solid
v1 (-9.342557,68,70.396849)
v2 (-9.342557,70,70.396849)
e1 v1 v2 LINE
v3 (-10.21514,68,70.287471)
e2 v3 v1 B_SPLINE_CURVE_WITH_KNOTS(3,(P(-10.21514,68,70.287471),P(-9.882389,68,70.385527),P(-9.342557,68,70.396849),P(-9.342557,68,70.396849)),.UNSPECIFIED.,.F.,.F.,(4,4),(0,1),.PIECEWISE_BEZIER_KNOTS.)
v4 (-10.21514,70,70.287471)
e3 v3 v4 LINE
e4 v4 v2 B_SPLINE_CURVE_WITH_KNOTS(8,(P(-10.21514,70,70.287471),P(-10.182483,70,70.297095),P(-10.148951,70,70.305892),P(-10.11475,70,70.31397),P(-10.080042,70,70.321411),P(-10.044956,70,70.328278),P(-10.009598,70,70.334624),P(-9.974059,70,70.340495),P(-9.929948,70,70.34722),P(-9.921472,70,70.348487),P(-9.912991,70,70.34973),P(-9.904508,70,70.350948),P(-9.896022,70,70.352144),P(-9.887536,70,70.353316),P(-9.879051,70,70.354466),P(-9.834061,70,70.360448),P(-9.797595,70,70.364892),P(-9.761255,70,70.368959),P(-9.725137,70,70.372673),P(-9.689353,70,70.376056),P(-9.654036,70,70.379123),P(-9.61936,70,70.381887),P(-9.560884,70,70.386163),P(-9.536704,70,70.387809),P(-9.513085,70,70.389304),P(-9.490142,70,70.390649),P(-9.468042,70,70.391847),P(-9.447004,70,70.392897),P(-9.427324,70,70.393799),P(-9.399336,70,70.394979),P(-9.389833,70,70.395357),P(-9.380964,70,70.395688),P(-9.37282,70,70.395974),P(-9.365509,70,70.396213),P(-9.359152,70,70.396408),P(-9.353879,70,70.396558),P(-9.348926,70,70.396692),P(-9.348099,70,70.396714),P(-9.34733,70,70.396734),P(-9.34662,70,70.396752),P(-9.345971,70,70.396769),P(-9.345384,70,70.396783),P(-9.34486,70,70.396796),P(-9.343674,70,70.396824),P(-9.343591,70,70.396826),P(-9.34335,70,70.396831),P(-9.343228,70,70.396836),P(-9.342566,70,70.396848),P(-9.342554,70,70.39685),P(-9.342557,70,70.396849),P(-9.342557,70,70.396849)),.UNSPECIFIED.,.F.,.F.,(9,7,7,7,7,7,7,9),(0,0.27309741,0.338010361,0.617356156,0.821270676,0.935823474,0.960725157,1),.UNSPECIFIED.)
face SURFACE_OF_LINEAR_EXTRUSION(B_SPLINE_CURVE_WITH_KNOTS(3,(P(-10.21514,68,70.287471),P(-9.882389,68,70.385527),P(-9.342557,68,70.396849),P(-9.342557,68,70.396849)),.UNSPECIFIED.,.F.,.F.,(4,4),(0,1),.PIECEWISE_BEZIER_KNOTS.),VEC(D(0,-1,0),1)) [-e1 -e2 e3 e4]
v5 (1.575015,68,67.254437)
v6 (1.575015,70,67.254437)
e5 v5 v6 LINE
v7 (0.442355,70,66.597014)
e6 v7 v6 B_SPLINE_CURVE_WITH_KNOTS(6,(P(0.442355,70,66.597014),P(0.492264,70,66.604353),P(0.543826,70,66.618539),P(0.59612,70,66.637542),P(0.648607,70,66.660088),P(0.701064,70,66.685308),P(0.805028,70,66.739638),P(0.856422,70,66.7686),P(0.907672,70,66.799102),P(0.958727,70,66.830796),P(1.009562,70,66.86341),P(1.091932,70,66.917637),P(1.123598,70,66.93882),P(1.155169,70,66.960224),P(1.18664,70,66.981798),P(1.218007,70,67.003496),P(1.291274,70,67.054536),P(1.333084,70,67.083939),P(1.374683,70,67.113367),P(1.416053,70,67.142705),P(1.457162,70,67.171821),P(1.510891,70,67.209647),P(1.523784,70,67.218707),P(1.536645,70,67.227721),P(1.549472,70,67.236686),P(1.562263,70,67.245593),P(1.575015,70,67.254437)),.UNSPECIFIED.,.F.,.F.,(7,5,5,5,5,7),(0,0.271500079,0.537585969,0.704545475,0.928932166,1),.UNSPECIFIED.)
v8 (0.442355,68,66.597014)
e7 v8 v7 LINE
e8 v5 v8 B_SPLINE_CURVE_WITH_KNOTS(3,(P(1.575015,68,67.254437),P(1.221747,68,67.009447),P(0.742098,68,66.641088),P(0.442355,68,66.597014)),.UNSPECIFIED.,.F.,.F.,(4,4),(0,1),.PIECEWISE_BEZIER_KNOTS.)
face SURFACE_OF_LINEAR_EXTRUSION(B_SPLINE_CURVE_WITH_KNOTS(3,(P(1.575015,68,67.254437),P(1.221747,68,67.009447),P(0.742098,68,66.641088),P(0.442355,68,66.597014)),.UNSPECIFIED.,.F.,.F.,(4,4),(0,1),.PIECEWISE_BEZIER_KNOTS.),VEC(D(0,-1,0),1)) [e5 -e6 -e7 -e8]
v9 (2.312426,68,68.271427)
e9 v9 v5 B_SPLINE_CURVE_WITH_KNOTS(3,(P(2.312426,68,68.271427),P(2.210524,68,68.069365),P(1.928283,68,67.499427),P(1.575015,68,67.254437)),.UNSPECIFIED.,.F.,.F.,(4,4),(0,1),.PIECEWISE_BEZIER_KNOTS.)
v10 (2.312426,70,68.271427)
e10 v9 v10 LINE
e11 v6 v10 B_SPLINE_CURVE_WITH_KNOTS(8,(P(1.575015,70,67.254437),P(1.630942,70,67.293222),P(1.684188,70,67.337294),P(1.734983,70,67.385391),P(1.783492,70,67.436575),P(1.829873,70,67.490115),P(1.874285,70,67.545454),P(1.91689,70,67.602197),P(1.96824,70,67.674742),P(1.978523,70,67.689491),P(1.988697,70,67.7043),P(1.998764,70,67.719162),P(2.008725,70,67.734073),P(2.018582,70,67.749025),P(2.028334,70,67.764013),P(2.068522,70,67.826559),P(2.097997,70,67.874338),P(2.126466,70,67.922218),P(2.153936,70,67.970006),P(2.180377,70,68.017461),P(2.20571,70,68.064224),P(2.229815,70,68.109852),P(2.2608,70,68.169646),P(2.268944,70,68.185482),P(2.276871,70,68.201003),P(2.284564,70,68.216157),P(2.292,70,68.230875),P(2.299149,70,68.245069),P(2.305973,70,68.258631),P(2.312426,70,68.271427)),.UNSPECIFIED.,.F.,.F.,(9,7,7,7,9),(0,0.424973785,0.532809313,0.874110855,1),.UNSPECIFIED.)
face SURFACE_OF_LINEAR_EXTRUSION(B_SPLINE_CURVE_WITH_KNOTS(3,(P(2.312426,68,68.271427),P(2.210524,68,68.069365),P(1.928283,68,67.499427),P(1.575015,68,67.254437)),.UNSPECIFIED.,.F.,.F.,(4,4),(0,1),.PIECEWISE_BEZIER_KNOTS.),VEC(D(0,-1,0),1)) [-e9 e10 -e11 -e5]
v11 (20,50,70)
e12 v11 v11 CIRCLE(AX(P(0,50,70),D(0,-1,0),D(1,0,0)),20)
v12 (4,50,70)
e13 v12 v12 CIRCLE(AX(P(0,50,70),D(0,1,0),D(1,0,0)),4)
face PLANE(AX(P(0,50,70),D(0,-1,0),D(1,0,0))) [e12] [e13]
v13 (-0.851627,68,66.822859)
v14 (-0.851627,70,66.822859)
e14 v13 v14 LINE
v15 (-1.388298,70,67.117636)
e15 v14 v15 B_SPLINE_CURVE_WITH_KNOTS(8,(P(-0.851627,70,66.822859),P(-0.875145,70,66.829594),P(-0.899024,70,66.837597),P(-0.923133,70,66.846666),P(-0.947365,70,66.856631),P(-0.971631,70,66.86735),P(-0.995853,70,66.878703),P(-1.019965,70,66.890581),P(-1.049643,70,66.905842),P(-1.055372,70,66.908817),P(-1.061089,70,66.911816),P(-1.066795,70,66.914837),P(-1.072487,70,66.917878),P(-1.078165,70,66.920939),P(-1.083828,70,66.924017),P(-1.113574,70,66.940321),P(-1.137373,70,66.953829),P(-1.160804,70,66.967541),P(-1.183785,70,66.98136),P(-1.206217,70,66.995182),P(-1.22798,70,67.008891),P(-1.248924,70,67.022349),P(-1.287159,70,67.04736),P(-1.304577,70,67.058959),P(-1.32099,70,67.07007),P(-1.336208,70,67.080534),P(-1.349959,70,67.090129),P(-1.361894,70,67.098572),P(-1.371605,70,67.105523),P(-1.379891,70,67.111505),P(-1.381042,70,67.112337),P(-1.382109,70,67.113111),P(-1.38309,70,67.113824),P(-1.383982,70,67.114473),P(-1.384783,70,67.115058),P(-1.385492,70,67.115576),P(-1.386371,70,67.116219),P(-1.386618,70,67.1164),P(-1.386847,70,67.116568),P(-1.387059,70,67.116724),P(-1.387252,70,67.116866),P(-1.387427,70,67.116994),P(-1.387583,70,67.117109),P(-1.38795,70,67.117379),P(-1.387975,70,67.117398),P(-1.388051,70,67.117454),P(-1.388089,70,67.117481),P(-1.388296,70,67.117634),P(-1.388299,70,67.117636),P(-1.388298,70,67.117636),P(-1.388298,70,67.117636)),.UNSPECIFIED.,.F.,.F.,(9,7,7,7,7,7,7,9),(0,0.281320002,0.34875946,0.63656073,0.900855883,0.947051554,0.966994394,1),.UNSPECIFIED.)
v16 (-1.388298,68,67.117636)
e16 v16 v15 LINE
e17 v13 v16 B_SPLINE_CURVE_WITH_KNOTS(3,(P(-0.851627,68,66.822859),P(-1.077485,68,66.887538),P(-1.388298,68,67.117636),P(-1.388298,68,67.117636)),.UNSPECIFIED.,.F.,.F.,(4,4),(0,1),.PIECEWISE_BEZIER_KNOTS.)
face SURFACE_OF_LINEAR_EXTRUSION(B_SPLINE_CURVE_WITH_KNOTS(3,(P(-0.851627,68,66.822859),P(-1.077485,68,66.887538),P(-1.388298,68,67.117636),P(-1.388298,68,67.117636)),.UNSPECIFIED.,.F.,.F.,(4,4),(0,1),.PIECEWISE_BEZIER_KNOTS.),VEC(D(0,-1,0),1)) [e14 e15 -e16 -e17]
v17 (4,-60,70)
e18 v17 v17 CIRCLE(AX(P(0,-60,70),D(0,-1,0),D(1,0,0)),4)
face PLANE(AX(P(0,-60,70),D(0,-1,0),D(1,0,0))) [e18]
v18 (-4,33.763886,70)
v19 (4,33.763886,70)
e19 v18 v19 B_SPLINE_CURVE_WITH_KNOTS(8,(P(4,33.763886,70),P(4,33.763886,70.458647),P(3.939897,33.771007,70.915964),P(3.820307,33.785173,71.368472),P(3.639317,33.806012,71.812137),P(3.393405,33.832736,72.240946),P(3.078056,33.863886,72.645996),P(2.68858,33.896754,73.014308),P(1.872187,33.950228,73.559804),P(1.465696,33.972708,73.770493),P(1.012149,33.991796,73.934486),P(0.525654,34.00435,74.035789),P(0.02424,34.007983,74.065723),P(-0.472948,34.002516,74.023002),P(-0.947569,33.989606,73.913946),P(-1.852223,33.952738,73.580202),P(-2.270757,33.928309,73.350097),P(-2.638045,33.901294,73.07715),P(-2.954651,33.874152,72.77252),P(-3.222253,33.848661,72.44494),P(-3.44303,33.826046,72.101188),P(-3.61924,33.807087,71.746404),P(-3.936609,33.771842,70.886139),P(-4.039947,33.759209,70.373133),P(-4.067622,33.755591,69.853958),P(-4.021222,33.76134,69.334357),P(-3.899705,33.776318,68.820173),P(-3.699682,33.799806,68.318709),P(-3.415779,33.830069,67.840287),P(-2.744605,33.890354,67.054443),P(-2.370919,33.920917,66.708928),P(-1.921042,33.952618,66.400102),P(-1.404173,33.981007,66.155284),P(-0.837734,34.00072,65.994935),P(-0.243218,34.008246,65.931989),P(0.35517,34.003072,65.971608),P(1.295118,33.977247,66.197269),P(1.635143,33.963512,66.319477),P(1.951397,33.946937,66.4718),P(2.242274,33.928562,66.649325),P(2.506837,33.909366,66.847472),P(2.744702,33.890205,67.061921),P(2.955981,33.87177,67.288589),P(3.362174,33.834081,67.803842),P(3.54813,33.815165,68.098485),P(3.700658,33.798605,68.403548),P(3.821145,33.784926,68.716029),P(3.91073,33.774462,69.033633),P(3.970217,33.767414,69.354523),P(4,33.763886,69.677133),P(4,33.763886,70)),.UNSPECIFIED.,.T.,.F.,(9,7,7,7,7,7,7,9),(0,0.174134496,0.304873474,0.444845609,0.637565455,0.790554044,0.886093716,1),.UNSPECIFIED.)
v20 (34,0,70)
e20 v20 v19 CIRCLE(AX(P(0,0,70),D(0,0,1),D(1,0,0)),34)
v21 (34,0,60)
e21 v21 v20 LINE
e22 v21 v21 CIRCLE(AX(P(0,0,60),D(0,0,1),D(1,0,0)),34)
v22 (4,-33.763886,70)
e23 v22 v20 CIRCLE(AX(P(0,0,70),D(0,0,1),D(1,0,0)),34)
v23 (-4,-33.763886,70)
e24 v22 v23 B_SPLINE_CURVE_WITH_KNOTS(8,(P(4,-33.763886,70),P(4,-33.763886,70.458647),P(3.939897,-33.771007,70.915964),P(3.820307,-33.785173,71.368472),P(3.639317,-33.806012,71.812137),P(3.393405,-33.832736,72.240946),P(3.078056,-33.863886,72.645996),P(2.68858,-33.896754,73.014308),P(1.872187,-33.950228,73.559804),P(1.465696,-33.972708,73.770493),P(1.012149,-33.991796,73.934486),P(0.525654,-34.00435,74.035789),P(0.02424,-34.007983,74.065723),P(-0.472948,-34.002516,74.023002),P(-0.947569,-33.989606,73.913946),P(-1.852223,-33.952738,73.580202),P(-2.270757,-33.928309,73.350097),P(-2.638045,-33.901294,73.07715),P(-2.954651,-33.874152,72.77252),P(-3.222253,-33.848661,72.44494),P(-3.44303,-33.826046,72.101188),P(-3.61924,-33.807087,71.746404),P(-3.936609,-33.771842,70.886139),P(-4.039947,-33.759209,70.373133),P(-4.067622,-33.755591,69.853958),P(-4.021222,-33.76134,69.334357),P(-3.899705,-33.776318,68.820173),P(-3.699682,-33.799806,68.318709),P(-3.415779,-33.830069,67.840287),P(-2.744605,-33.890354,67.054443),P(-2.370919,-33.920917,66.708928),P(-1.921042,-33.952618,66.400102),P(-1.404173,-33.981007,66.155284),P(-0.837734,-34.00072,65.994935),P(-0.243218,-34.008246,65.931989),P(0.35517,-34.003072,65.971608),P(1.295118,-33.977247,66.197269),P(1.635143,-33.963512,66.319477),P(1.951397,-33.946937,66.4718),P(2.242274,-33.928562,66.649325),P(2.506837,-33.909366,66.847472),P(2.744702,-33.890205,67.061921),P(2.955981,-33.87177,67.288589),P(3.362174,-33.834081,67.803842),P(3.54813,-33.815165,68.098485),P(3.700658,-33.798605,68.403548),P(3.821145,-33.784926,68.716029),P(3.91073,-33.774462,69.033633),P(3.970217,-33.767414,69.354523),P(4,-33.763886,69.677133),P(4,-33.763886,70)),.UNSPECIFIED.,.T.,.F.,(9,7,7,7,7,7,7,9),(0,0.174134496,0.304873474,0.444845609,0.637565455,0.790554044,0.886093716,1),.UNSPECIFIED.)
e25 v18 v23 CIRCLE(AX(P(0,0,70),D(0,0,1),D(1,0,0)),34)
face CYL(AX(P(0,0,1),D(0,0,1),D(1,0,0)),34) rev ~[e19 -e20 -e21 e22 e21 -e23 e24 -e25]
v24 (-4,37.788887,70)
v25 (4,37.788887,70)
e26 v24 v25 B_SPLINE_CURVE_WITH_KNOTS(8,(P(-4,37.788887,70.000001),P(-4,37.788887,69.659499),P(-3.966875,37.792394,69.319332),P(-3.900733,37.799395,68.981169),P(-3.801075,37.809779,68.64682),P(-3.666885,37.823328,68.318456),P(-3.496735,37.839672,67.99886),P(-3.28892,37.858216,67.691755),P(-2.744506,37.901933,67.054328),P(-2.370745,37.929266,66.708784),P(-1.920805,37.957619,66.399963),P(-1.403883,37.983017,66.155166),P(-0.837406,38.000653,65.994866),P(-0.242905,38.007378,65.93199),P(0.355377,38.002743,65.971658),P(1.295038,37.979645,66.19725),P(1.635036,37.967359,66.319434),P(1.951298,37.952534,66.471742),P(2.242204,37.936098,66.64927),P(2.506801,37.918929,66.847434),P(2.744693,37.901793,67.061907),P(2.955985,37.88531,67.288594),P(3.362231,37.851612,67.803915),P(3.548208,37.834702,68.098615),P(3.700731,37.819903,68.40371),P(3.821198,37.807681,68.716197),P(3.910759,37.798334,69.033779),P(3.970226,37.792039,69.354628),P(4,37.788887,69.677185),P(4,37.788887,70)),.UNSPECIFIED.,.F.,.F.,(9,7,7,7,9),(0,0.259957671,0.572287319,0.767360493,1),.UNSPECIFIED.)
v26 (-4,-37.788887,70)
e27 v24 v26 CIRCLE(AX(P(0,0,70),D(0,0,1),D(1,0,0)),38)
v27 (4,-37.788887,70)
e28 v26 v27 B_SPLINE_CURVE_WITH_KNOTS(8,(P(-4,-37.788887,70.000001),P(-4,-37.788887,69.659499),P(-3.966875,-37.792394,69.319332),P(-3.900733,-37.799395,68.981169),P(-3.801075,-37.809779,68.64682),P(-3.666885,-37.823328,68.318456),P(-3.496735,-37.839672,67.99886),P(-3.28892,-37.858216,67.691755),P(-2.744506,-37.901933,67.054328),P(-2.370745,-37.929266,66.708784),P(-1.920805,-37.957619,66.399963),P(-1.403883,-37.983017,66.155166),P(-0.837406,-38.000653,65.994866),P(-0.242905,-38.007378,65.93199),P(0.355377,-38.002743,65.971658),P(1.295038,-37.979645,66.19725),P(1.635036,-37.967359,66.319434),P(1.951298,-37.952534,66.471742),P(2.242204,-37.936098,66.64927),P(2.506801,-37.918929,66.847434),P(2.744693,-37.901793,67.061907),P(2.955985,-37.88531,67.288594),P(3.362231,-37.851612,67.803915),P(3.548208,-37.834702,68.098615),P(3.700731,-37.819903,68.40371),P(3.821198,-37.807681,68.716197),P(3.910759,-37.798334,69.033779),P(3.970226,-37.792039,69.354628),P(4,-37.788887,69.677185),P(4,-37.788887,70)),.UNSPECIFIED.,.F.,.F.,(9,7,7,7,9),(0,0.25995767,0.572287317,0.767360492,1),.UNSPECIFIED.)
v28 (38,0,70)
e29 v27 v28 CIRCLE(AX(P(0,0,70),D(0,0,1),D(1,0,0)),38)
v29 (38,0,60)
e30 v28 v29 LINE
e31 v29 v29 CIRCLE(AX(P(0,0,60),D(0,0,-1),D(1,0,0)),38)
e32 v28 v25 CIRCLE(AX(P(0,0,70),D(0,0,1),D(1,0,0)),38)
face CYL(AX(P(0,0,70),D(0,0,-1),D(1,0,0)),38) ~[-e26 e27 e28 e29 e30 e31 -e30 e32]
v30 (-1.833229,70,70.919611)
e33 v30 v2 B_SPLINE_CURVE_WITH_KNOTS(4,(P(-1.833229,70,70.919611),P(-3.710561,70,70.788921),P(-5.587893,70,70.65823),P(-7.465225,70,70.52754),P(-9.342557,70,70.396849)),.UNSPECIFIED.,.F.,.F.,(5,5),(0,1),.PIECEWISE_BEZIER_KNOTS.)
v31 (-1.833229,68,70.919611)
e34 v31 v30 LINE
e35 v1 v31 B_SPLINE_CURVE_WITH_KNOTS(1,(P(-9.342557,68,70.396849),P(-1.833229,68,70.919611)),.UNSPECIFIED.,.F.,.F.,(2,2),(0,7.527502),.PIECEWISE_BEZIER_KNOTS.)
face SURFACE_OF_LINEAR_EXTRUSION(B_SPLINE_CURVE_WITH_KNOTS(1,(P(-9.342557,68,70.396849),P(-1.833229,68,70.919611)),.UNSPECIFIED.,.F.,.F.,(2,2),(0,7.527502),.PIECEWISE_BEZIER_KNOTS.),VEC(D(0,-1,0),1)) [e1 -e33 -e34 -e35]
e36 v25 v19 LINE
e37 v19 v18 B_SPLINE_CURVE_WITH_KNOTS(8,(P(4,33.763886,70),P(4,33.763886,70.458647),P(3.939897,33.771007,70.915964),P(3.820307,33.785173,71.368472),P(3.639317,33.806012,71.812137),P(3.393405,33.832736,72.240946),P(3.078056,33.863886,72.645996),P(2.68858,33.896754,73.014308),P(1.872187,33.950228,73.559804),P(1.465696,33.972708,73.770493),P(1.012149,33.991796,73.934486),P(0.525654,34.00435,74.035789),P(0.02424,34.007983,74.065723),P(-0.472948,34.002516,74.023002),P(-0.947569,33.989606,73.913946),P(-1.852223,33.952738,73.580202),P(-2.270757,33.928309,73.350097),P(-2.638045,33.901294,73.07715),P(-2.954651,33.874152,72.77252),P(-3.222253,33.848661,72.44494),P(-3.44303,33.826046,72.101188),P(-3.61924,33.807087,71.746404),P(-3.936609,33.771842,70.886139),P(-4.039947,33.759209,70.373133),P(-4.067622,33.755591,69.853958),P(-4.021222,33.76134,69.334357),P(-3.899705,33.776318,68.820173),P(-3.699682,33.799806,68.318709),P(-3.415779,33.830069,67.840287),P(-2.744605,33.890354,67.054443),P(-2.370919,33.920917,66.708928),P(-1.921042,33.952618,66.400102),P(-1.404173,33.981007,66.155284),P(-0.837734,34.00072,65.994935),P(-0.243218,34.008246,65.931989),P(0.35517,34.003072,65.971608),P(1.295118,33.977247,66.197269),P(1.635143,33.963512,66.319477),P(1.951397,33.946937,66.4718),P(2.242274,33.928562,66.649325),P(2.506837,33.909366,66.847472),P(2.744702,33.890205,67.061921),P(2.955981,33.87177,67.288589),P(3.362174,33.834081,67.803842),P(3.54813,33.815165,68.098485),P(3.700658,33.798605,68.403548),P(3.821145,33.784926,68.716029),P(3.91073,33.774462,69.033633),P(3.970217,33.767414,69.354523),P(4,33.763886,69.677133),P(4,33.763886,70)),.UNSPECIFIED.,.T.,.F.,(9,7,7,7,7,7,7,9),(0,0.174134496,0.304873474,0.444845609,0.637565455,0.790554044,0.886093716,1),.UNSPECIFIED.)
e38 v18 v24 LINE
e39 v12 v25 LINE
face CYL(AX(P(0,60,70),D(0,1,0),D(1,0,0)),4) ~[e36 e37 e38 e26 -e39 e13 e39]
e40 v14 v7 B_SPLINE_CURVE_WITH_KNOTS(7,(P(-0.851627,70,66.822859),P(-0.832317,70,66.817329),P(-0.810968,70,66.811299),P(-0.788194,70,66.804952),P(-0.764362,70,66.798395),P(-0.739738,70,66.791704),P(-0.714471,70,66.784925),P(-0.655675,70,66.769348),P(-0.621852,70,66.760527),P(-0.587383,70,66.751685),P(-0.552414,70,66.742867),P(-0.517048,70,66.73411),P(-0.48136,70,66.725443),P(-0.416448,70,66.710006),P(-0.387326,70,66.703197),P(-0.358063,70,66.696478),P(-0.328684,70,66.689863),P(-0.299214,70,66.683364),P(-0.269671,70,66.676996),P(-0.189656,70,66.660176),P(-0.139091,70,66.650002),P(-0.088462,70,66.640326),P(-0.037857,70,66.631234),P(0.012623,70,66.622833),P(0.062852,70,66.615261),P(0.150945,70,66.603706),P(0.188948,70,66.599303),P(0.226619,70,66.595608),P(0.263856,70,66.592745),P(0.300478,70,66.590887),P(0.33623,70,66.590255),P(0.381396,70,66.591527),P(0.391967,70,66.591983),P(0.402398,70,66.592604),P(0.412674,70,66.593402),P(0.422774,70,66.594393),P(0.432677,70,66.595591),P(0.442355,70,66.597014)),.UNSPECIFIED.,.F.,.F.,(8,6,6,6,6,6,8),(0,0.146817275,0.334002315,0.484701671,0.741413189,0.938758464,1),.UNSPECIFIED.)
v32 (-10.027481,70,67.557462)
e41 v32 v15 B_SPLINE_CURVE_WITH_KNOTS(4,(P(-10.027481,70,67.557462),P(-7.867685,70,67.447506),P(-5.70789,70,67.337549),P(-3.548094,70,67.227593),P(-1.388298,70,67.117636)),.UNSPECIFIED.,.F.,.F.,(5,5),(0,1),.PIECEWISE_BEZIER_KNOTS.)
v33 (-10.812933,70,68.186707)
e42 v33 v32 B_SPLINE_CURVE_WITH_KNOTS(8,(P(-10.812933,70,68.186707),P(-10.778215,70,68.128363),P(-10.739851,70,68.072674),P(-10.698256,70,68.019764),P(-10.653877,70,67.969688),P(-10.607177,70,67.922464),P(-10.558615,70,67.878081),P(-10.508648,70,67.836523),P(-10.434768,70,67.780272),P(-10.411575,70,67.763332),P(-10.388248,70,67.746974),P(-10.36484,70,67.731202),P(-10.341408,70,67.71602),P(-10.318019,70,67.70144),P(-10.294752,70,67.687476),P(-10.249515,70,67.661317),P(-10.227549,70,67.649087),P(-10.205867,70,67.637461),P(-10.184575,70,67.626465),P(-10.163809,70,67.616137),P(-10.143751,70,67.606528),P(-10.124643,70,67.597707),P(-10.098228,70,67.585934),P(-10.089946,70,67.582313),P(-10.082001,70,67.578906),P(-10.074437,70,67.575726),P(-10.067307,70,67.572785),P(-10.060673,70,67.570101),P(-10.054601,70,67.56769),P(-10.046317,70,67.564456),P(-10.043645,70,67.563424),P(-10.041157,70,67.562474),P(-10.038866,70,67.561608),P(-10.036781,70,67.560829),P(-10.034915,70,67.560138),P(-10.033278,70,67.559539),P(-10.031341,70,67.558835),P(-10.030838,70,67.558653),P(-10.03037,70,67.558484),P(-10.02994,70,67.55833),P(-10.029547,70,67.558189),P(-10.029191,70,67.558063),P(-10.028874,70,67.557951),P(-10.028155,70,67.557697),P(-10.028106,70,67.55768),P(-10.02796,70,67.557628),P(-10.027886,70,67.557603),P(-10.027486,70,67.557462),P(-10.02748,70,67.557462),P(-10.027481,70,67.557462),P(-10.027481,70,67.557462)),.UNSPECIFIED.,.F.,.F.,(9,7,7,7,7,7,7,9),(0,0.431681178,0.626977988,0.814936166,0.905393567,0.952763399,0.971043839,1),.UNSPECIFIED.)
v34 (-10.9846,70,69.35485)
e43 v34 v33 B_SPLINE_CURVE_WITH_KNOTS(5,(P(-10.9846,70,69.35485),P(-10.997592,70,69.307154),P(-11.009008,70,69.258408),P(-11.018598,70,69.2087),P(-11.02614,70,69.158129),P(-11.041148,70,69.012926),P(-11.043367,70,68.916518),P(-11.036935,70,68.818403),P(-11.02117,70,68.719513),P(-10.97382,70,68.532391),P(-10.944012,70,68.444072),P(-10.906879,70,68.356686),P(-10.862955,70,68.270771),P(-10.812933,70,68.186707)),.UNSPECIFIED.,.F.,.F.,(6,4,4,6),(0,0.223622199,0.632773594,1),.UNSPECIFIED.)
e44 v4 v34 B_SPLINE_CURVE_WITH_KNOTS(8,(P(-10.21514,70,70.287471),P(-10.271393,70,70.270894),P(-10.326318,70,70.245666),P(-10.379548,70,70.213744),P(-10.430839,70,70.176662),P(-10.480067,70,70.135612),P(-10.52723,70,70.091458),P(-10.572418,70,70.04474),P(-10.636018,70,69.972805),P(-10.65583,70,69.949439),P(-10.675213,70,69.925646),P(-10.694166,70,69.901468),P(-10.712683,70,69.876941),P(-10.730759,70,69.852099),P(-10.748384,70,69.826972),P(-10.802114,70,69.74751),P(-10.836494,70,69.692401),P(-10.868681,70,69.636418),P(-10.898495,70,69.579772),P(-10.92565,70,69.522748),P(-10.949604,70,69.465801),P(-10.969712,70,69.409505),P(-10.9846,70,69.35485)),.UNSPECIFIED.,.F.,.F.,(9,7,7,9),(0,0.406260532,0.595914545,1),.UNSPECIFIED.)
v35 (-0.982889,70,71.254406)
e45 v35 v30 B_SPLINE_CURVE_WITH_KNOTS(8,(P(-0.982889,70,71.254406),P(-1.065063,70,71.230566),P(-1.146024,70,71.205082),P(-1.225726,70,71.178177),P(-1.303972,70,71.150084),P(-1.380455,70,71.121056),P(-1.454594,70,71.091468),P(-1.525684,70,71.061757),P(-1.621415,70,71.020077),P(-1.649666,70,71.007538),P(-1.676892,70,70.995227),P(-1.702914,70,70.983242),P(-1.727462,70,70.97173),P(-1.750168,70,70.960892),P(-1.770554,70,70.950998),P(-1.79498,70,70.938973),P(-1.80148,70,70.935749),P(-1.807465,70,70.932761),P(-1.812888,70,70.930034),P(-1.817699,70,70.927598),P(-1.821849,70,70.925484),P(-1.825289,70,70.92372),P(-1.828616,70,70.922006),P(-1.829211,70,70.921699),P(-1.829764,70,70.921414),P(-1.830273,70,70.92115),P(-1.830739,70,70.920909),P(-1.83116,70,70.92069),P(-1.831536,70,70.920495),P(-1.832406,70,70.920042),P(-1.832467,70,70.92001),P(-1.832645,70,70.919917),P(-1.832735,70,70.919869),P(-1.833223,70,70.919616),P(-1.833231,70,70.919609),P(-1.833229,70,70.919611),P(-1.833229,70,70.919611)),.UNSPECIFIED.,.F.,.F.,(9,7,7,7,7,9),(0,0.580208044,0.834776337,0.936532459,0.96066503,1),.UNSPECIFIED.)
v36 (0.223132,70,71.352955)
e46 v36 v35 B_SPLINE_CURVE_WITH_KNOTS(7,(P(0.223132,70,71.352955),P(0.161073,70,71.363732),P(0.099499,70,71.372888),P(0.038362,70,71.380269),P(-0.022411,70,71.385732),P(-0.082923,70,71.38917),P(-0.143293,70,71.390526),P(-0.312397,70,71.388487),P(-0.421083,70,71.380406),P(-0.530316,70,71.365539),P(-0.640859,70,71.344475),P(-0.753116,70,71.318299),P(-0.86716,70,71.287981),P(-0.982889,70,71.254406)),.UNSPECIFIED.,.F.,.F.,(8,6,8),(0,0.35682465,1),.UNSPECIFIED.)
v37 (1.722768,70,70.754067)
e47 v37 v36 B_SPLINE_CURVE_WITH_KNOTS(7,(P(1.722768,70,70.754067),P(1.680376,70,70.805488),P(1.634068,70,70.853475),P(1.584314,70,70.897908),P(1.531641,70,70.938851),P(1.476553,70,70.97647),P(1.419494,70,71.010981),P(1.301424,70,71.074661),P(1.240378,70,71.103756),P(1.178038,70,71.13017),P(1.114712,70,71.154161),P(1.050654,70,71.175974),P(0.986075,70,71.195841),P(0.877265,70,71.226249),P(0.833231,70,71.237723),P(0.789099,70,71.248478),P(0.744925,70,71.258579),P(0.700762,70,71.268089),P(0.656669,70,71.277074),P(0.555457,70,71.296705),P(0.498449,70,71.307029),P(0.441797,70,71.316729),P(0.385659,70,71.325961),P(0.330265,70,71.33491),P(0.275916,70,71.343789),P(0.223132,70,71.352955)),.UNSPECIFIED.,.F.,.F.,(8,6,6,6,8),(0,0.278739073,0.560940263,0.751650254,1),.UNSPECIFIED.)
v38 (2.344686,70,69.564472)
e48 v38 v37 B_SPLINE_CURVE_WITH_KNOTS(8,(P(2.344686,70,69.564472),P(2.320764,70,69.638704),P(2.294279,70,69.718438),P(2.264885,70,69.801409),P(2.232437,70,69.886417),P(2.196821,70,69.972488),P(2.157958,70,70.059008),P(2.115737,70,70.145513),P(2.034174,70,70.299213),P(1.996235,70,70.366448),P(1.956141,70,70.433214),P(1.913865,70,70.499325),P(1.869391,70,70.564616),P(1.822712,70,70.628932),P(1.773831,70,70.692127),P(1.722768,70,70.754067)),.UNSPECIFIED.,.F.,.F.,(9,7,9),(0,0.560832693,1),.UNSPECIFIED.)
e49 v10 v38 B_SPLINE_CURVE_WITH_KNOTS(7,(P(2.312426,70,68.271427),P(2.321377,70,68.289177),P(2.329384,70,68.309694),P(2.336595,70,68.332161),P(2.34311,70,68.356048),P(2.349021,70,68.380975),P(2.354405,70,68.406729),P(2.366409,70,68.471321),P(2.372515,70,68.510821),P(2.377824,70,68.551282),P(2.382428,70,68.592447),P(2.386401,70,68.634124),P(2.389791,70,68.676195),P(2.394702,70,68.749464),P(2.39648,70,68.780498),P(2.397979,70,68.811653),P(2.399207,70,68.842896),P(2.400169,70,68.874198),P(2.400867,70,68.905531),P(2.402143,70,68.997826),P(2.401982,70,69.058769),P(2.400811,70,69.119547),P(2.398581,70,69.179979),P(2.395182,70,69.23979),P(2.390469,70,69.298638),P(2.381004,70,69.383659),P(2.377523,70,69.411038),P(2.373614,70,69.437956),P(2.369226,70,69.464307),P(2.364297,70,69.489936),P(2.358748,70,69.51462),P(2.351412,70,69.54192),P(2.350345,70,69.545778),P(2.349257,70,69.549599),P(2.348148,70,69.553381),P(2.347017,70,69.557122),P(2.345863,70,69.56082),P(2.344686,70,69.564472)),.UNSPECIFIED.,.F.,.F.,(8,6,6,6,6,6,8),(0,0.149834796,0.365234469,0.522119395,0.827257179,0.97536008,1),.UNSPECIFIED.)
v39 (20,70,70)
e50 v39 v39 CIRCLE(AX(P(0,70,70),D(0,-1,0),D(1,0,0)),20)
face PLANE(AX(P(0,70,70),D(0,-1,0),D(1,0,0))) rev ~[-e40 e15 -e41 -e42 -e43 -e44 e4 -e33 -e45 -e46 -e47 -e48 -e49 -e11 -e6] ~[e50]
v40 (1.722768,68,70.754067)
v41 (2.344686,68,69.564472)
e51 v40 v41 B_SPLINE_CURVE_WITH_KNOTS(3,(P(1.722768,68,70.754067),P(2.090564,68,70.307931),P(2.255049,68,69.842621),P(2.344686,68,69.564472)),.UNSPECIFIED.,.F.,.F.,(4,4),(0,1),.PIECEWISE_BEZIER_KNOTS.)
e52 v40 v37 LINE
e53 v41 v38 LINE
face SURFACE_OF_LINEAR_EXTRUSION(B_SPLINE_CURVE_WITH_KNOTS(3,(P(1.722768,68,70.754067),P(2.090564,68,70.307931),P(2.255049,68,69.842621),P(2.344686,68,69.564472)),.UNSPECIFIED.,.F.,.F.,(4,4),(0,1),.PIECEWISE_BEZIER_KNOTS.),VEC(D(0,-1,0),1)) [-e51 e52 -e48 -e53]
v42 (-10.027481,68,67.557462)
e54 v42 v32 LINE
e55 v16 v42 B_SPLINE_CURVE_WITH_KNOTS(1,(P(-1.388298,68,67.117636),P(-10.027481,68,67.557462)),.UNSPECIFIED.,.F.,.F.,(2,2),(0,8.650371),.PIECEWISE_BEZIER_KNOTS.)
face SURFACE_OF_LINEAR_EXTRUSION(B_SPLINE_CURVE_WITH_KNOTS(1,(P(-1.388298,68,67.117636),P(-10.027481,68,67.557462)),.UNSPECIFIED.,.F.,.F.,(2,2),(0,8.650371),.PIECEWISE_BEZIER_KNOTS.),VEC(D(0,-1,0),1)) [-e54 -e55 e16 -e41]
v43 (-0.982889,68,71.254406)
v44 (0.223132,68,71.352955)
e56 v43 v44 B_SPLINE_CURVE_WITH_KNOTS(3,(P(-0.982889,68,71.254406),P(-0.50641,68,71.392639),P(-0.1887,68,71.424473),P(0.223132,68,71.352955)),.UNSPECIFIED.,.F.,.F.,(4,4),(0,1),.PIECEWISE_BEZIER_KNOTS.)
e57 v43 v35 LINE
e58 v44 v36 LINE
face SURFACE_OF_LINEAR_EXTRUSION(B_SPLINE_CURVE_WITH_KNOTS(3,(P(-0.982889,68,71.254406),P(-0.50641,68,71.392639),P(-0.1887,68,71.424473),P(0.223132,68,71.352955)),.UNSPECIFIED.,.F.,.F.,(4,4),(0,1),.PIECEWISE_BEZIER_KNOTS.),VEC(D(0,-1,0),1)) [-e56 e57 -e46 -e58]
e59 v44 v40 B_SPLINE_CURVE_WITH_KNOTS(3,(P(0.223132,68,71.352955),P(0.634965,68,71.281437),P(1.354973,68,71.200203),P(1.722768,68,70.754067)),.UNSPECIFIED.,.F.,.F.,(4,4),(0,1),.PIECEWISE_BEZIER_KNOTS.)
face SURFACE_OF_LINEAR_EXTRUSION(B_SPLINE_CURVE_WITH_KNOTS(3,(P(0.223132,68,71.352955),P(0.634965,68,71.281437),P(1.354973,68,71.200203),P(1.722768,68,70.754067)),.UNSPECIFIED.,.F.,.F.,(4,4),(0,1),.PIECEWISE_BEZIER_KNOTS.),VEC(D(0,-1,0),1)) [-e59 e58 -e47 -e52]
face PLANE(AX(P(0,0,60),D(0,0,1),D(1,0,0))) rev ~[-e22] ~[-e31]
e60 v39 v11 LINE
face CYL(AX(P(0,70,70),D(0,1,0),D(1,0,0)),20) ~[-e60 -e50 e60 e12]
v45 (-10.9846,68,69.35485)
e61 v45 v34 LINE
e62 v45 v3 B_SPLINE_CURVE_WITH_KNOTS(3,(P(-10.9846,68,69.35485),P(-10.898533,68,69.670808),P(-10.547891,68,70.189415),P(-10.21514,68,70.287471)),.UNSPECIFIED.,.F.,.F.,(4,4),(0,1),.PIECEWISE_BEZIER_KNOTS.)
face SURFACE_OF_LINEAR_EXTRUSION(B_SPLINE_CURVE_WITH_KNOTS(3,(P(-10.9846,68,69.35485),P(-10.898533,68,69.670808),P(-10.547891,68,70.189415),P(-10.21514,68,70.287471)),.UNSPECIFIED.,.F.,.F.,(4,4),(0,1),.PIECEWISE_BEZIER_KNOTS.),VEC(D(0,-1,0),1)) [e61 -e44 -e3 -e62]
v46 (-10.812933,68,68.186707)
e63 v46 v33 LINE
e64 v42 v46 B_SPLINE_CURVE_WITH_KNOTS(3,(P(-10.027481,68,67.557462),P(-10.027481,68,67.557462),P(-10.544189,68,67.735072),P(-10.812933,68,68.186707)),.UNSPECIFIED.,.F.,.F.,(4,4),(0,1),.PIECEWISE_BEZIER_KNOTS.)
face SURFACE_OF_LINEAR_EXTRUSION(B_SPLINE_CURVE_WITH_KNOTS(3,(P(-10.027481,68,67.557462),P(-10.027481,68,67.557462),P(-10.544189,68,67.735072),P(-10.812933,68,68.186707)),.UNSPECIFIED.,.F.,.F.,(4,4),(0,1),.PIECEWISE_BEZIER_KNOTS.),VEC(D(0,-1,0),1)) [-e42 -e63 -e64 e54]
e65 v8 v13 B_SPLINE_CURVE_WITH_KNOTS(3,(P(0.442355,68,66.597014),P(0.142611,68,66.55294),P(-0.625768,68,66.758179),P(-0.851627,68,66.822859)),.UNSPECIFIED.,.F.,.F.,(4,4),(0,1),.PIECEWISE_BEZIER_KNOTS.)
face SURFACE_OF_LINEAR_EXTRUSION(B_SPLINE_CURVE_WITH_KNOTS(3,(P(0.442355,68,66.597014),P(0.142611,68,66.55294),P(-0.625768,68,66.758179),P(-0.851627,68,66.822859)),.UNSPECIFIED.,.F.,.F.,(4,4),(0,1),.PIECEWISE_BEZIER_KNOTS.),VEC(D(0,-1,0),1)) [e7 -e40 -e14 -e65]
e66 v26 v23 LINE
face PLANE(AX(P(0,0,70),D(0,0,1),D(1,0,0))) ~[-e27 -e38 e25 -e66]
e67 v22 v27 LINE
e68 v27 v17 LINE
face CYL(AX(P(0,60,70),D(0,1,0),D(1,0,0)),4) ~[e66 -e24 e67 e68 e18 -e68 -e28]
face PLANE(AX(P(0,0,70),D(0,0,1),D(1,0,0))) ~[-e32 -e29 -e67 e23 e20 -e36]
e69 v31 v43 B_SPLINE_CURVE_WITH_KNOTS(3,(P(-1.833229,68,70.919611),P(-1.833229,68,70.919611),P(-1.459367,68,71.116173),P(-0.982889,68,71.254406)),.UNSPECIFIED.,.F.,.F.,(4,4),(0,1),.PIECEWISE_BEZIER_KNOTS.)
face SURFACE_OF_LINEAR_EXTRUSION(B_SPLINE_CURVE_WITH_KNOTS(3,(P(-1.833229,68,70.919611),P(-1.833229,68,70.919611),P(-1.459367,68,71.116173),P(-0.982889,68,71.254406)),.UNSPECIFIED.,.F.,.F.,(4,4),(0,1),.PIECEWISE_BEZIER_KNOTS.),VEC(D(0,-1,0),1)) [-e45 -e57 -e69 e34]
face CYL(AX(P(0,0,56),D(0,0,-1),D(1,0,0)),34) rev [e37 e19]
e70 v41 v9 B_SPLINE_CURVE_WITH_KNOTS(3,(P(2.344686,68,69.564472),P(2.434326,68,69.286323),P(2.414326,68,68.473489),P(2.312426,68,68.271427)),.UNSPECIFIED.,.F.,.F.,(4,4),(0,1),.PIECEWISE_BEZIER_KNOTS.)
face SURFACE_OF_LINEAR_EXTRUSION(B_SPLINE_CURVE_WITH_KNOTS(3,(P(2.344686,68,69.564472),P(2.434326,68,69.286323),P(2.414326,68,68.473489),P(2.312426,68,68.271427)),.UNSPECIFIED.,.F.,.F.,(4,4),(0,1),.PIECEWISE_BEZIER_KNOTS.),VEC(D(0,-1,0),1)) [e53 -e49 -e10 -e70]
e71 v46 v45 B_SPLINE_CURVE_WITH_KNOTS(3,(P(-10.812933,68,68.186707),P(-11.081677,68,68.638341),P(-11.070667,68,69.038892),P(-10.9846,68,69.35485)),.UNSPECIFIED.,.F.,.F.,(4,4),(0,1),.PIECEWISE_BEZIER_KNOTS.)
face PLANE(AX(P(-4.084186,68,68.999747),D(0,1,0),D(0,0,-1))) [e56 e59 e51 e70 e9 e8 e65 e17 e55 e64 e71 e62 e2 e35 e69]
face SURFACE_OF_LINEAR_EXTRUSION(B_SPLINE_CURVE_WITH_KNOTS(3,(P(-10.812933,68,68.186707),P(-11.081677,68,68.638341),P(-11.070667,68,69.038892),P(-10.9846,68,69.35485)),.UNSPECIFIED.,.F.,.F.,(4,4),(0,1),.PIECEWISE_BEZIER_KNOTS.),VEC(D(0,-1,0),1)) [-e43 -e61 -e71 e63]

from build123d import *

# Parameters (mm, degrees)
EXTRUDE_DEPTH           = 10
EXTRUDE_PLACEMENT_ANGLE = 270
CYLINDER004_R           = 34
CYLINDER004_DEPTH       = 30
CYLINDER003_R           = 4
CYLINDER003_DEPTH       = 120
CYLINDER005_R           = 20
CYLINDER005_DEPTH       = 20
CYLINDER_R              = 46
CYLINDER_DEPTH          = 60


with BuildPart() as extrude_body:
    # path2399 → Extrude (new body)
    with BuildSketch(Plane(origin=(8.682374, 337.01873, 81), x_dir=(0, 1, 0), z_dir=(0, 0, 1))):
        with BuildLine():
            add(Edge.make_bspline(
                [(-1.415579, 5.024931), (-1.938341, -2.484397)],
                knots=[0, 0, 7.527502, 7.527502], degree=1))
            add(Edge.make_bspline(
                [(-1.938341, -2.484397), (-1.938341, -2.484397), (-2.134903, -2.858259), (-2.273136, -3.334737)],
                knots=[0, 0, 0, 0, 1, 1, 1, 1], degree=3))
            add(Edge.make_bspline(
                [(-2.273136, -3.334737), (-2.411369, -3.811216), (-2.443203, -4.128926), (-2.371685, -4.540758)],
                knots=[0, 0, 0, 0, 1, 1, 1, 1], degree=3))
            add(Edge.make_bspline(
                [(-2.371685, -4.540758), (-2.300167, -4.952591), (-2.218933, -5.672599), (-1.772797, -6.040394)],
                knots=[0, 0, 0, 0, 1, 1, 1, 1], degree=3))
            add(Edge.make_bspline(
                [(-1.772797, -6.040394), (-1.326661, -6.40819), (-0.861351, -6.572675), (-0.583202, -6.662312)],
                knots=[0, 0, 0, 0, 1, 1, 1, 1], degree=3))
            add(Edge.make_bspline(
                [(-0.583202, -6.662312), (-0.305053, -6.751952), (0.507781, -6.731952), (0.709843, -6.630052)],
                knots=[0, 0, 0, 0, 1, 1, 1, 1], degree=3))
            add(Edge.make_bspline(
                [(0.709843, -6.630052), (0.911905, -6.52815), (1.481843, -6.245909), (1.726833, -5.892641)],
                knots=[0, 0, 0, 0, 1, 1, 1, 1], degree=3))
            add(Edge.make_bspline(
                [(1.726833, -5.892641), (1.971823, -5.539373), (2.340182, -5.059724), (2.384256, -4.759981)],
                knots=[0, 0, 0, 0, 1, 1, 1, 1], degree=3))
            add(Edge.make_bspline(
                [(2.384256, -4.759981), (2.42833, -4.460237), (2.223091, -3.691858), (2.158411, -3.465999)],
                knots=[0, 0, 0, 0, 1, 1, 1, 1], degree=3))
            add(Edge.make_bspline(
                [(2.158411, -3.465999), (2.093732, -3.240141), (1.863634, -2.929328), (1.863634, -2.929328)],
                knots=[0, 0, 0, 0, 1, 1, 1, 1], degree=3))
            add(Edge.make_bspline(
                [(1.863634, -2.929328), (1.423808, 5.709855)],
                knots=[0, 0, 8.650371, 8.650371], degree=1))
            add(Edge.make_bspline(
                [(1.423808, 5.709855), (1.423808, 5.709855), (1.246198, 6.226563), (0.794563, 6.495307)],
                knots=[0, 0, 0, 0, 1, 1, 1, 1], degree=3))
            add(Edge.make_bspline(
                [(0.794563, 6.495307), (0.342929, 6.764051), (-0.057622, 6.753041), (-0.37358, 6.666974)],
                knots=[0, 0, 0, 0, 1, 1, 1, 1], degree=3))
            add(Edge.make_bspline(
                [(-0.37358, 6.666974), (-0.689538, 6.580907), (-1.208145, 6.230265), (-1.306201, 5.897514)],
                knots=[0, 0, 0, 0, 1, 1, 1, 1], degree=3))
            add(Edge.make_bspline(
                [(-1.306201, 5.897514), (-1.404257, 5.564763), (-1.415579, 5.024931), (-1.415579, 5.024931)],
                knots=[0, 0, 0, 0, 1, 1, 1, 1], degree=3))
        make_face()
    extrude(amount=EXTRUDE_DEPTH)


with BuildPart() as extrude_body_1:
    # Extrude placement: moved
    add(extrude_body.part.moved(Location((-13, -13, 406))).rotate(Axis((-13, -13, 406), (1, 0, 0)), EXTRUDE_PLACEMENT_ANGLE))


with BuildPart() as cylinder004:
    # Cylinder004 → Cylinder004 (new body)
    with BuildSketch(Plane.XY.offset(56)):
        Circle(CYLINDER004_R)
    extrude(amount=CYLINDER004_DEPTH)


with BuildPart() as cut:
    # Cylinder003 → Cylinder003 (new body)
    with BuildSketch(Plane(origin=(0, 60, 70), x_dir=(1, 0, 0), z_dir=(0, -1, 0))):
        Circle(CYLINDER003_R)
    extrude(amount=CYLINDER003_DEPTH)

    # Cut: cut Cylinder004
    add(cylinder004.part, mode=Mode.SUBTRACT)


with BuildPart() as cut001:
    # Cylinder005 → Cylinder005 (new body)
    with BuildSketch(Plane(origin=(0, 70, 70), x_dir=(1, 0, 0), z_dir=(0, -1, 0))):
        Circle(CYLINDER005_R)
    extrude(amount=CYLINDER005_DEPTH)

    # Fusion: union Cut
    add(cut.part)

    # Cut001: cut Extrude body
    add(extrude_body_1.part, mode=Mode.SUBTRACT)


with BuildPart() as cylinder:
    # Cylinder → Cylinder (new body)
    with BuildSketch(Plane.XY):
        Circle(CYLINDER_R)
    extrude(amount=CYLINDER_DEPTH)


with BuildPart() as fusion001:
    # Sketch → Revolve (revolve)
    with BuildSketch(Plane.XZ):
        Polygon((0, 1), (34, 1), (34, 70), (38, 70), (38, 0), (0, 0), align=None)
    revolve(axis=Axis((0, 0, 0), (0, 0, 1)))

    # Cut002: cut Cylinder
    add(cylinder.part, mode=Mode.SUBTRACT)

    # Fusion001: union Cut001
    add(cut001.part)


solid = fusion001.part
